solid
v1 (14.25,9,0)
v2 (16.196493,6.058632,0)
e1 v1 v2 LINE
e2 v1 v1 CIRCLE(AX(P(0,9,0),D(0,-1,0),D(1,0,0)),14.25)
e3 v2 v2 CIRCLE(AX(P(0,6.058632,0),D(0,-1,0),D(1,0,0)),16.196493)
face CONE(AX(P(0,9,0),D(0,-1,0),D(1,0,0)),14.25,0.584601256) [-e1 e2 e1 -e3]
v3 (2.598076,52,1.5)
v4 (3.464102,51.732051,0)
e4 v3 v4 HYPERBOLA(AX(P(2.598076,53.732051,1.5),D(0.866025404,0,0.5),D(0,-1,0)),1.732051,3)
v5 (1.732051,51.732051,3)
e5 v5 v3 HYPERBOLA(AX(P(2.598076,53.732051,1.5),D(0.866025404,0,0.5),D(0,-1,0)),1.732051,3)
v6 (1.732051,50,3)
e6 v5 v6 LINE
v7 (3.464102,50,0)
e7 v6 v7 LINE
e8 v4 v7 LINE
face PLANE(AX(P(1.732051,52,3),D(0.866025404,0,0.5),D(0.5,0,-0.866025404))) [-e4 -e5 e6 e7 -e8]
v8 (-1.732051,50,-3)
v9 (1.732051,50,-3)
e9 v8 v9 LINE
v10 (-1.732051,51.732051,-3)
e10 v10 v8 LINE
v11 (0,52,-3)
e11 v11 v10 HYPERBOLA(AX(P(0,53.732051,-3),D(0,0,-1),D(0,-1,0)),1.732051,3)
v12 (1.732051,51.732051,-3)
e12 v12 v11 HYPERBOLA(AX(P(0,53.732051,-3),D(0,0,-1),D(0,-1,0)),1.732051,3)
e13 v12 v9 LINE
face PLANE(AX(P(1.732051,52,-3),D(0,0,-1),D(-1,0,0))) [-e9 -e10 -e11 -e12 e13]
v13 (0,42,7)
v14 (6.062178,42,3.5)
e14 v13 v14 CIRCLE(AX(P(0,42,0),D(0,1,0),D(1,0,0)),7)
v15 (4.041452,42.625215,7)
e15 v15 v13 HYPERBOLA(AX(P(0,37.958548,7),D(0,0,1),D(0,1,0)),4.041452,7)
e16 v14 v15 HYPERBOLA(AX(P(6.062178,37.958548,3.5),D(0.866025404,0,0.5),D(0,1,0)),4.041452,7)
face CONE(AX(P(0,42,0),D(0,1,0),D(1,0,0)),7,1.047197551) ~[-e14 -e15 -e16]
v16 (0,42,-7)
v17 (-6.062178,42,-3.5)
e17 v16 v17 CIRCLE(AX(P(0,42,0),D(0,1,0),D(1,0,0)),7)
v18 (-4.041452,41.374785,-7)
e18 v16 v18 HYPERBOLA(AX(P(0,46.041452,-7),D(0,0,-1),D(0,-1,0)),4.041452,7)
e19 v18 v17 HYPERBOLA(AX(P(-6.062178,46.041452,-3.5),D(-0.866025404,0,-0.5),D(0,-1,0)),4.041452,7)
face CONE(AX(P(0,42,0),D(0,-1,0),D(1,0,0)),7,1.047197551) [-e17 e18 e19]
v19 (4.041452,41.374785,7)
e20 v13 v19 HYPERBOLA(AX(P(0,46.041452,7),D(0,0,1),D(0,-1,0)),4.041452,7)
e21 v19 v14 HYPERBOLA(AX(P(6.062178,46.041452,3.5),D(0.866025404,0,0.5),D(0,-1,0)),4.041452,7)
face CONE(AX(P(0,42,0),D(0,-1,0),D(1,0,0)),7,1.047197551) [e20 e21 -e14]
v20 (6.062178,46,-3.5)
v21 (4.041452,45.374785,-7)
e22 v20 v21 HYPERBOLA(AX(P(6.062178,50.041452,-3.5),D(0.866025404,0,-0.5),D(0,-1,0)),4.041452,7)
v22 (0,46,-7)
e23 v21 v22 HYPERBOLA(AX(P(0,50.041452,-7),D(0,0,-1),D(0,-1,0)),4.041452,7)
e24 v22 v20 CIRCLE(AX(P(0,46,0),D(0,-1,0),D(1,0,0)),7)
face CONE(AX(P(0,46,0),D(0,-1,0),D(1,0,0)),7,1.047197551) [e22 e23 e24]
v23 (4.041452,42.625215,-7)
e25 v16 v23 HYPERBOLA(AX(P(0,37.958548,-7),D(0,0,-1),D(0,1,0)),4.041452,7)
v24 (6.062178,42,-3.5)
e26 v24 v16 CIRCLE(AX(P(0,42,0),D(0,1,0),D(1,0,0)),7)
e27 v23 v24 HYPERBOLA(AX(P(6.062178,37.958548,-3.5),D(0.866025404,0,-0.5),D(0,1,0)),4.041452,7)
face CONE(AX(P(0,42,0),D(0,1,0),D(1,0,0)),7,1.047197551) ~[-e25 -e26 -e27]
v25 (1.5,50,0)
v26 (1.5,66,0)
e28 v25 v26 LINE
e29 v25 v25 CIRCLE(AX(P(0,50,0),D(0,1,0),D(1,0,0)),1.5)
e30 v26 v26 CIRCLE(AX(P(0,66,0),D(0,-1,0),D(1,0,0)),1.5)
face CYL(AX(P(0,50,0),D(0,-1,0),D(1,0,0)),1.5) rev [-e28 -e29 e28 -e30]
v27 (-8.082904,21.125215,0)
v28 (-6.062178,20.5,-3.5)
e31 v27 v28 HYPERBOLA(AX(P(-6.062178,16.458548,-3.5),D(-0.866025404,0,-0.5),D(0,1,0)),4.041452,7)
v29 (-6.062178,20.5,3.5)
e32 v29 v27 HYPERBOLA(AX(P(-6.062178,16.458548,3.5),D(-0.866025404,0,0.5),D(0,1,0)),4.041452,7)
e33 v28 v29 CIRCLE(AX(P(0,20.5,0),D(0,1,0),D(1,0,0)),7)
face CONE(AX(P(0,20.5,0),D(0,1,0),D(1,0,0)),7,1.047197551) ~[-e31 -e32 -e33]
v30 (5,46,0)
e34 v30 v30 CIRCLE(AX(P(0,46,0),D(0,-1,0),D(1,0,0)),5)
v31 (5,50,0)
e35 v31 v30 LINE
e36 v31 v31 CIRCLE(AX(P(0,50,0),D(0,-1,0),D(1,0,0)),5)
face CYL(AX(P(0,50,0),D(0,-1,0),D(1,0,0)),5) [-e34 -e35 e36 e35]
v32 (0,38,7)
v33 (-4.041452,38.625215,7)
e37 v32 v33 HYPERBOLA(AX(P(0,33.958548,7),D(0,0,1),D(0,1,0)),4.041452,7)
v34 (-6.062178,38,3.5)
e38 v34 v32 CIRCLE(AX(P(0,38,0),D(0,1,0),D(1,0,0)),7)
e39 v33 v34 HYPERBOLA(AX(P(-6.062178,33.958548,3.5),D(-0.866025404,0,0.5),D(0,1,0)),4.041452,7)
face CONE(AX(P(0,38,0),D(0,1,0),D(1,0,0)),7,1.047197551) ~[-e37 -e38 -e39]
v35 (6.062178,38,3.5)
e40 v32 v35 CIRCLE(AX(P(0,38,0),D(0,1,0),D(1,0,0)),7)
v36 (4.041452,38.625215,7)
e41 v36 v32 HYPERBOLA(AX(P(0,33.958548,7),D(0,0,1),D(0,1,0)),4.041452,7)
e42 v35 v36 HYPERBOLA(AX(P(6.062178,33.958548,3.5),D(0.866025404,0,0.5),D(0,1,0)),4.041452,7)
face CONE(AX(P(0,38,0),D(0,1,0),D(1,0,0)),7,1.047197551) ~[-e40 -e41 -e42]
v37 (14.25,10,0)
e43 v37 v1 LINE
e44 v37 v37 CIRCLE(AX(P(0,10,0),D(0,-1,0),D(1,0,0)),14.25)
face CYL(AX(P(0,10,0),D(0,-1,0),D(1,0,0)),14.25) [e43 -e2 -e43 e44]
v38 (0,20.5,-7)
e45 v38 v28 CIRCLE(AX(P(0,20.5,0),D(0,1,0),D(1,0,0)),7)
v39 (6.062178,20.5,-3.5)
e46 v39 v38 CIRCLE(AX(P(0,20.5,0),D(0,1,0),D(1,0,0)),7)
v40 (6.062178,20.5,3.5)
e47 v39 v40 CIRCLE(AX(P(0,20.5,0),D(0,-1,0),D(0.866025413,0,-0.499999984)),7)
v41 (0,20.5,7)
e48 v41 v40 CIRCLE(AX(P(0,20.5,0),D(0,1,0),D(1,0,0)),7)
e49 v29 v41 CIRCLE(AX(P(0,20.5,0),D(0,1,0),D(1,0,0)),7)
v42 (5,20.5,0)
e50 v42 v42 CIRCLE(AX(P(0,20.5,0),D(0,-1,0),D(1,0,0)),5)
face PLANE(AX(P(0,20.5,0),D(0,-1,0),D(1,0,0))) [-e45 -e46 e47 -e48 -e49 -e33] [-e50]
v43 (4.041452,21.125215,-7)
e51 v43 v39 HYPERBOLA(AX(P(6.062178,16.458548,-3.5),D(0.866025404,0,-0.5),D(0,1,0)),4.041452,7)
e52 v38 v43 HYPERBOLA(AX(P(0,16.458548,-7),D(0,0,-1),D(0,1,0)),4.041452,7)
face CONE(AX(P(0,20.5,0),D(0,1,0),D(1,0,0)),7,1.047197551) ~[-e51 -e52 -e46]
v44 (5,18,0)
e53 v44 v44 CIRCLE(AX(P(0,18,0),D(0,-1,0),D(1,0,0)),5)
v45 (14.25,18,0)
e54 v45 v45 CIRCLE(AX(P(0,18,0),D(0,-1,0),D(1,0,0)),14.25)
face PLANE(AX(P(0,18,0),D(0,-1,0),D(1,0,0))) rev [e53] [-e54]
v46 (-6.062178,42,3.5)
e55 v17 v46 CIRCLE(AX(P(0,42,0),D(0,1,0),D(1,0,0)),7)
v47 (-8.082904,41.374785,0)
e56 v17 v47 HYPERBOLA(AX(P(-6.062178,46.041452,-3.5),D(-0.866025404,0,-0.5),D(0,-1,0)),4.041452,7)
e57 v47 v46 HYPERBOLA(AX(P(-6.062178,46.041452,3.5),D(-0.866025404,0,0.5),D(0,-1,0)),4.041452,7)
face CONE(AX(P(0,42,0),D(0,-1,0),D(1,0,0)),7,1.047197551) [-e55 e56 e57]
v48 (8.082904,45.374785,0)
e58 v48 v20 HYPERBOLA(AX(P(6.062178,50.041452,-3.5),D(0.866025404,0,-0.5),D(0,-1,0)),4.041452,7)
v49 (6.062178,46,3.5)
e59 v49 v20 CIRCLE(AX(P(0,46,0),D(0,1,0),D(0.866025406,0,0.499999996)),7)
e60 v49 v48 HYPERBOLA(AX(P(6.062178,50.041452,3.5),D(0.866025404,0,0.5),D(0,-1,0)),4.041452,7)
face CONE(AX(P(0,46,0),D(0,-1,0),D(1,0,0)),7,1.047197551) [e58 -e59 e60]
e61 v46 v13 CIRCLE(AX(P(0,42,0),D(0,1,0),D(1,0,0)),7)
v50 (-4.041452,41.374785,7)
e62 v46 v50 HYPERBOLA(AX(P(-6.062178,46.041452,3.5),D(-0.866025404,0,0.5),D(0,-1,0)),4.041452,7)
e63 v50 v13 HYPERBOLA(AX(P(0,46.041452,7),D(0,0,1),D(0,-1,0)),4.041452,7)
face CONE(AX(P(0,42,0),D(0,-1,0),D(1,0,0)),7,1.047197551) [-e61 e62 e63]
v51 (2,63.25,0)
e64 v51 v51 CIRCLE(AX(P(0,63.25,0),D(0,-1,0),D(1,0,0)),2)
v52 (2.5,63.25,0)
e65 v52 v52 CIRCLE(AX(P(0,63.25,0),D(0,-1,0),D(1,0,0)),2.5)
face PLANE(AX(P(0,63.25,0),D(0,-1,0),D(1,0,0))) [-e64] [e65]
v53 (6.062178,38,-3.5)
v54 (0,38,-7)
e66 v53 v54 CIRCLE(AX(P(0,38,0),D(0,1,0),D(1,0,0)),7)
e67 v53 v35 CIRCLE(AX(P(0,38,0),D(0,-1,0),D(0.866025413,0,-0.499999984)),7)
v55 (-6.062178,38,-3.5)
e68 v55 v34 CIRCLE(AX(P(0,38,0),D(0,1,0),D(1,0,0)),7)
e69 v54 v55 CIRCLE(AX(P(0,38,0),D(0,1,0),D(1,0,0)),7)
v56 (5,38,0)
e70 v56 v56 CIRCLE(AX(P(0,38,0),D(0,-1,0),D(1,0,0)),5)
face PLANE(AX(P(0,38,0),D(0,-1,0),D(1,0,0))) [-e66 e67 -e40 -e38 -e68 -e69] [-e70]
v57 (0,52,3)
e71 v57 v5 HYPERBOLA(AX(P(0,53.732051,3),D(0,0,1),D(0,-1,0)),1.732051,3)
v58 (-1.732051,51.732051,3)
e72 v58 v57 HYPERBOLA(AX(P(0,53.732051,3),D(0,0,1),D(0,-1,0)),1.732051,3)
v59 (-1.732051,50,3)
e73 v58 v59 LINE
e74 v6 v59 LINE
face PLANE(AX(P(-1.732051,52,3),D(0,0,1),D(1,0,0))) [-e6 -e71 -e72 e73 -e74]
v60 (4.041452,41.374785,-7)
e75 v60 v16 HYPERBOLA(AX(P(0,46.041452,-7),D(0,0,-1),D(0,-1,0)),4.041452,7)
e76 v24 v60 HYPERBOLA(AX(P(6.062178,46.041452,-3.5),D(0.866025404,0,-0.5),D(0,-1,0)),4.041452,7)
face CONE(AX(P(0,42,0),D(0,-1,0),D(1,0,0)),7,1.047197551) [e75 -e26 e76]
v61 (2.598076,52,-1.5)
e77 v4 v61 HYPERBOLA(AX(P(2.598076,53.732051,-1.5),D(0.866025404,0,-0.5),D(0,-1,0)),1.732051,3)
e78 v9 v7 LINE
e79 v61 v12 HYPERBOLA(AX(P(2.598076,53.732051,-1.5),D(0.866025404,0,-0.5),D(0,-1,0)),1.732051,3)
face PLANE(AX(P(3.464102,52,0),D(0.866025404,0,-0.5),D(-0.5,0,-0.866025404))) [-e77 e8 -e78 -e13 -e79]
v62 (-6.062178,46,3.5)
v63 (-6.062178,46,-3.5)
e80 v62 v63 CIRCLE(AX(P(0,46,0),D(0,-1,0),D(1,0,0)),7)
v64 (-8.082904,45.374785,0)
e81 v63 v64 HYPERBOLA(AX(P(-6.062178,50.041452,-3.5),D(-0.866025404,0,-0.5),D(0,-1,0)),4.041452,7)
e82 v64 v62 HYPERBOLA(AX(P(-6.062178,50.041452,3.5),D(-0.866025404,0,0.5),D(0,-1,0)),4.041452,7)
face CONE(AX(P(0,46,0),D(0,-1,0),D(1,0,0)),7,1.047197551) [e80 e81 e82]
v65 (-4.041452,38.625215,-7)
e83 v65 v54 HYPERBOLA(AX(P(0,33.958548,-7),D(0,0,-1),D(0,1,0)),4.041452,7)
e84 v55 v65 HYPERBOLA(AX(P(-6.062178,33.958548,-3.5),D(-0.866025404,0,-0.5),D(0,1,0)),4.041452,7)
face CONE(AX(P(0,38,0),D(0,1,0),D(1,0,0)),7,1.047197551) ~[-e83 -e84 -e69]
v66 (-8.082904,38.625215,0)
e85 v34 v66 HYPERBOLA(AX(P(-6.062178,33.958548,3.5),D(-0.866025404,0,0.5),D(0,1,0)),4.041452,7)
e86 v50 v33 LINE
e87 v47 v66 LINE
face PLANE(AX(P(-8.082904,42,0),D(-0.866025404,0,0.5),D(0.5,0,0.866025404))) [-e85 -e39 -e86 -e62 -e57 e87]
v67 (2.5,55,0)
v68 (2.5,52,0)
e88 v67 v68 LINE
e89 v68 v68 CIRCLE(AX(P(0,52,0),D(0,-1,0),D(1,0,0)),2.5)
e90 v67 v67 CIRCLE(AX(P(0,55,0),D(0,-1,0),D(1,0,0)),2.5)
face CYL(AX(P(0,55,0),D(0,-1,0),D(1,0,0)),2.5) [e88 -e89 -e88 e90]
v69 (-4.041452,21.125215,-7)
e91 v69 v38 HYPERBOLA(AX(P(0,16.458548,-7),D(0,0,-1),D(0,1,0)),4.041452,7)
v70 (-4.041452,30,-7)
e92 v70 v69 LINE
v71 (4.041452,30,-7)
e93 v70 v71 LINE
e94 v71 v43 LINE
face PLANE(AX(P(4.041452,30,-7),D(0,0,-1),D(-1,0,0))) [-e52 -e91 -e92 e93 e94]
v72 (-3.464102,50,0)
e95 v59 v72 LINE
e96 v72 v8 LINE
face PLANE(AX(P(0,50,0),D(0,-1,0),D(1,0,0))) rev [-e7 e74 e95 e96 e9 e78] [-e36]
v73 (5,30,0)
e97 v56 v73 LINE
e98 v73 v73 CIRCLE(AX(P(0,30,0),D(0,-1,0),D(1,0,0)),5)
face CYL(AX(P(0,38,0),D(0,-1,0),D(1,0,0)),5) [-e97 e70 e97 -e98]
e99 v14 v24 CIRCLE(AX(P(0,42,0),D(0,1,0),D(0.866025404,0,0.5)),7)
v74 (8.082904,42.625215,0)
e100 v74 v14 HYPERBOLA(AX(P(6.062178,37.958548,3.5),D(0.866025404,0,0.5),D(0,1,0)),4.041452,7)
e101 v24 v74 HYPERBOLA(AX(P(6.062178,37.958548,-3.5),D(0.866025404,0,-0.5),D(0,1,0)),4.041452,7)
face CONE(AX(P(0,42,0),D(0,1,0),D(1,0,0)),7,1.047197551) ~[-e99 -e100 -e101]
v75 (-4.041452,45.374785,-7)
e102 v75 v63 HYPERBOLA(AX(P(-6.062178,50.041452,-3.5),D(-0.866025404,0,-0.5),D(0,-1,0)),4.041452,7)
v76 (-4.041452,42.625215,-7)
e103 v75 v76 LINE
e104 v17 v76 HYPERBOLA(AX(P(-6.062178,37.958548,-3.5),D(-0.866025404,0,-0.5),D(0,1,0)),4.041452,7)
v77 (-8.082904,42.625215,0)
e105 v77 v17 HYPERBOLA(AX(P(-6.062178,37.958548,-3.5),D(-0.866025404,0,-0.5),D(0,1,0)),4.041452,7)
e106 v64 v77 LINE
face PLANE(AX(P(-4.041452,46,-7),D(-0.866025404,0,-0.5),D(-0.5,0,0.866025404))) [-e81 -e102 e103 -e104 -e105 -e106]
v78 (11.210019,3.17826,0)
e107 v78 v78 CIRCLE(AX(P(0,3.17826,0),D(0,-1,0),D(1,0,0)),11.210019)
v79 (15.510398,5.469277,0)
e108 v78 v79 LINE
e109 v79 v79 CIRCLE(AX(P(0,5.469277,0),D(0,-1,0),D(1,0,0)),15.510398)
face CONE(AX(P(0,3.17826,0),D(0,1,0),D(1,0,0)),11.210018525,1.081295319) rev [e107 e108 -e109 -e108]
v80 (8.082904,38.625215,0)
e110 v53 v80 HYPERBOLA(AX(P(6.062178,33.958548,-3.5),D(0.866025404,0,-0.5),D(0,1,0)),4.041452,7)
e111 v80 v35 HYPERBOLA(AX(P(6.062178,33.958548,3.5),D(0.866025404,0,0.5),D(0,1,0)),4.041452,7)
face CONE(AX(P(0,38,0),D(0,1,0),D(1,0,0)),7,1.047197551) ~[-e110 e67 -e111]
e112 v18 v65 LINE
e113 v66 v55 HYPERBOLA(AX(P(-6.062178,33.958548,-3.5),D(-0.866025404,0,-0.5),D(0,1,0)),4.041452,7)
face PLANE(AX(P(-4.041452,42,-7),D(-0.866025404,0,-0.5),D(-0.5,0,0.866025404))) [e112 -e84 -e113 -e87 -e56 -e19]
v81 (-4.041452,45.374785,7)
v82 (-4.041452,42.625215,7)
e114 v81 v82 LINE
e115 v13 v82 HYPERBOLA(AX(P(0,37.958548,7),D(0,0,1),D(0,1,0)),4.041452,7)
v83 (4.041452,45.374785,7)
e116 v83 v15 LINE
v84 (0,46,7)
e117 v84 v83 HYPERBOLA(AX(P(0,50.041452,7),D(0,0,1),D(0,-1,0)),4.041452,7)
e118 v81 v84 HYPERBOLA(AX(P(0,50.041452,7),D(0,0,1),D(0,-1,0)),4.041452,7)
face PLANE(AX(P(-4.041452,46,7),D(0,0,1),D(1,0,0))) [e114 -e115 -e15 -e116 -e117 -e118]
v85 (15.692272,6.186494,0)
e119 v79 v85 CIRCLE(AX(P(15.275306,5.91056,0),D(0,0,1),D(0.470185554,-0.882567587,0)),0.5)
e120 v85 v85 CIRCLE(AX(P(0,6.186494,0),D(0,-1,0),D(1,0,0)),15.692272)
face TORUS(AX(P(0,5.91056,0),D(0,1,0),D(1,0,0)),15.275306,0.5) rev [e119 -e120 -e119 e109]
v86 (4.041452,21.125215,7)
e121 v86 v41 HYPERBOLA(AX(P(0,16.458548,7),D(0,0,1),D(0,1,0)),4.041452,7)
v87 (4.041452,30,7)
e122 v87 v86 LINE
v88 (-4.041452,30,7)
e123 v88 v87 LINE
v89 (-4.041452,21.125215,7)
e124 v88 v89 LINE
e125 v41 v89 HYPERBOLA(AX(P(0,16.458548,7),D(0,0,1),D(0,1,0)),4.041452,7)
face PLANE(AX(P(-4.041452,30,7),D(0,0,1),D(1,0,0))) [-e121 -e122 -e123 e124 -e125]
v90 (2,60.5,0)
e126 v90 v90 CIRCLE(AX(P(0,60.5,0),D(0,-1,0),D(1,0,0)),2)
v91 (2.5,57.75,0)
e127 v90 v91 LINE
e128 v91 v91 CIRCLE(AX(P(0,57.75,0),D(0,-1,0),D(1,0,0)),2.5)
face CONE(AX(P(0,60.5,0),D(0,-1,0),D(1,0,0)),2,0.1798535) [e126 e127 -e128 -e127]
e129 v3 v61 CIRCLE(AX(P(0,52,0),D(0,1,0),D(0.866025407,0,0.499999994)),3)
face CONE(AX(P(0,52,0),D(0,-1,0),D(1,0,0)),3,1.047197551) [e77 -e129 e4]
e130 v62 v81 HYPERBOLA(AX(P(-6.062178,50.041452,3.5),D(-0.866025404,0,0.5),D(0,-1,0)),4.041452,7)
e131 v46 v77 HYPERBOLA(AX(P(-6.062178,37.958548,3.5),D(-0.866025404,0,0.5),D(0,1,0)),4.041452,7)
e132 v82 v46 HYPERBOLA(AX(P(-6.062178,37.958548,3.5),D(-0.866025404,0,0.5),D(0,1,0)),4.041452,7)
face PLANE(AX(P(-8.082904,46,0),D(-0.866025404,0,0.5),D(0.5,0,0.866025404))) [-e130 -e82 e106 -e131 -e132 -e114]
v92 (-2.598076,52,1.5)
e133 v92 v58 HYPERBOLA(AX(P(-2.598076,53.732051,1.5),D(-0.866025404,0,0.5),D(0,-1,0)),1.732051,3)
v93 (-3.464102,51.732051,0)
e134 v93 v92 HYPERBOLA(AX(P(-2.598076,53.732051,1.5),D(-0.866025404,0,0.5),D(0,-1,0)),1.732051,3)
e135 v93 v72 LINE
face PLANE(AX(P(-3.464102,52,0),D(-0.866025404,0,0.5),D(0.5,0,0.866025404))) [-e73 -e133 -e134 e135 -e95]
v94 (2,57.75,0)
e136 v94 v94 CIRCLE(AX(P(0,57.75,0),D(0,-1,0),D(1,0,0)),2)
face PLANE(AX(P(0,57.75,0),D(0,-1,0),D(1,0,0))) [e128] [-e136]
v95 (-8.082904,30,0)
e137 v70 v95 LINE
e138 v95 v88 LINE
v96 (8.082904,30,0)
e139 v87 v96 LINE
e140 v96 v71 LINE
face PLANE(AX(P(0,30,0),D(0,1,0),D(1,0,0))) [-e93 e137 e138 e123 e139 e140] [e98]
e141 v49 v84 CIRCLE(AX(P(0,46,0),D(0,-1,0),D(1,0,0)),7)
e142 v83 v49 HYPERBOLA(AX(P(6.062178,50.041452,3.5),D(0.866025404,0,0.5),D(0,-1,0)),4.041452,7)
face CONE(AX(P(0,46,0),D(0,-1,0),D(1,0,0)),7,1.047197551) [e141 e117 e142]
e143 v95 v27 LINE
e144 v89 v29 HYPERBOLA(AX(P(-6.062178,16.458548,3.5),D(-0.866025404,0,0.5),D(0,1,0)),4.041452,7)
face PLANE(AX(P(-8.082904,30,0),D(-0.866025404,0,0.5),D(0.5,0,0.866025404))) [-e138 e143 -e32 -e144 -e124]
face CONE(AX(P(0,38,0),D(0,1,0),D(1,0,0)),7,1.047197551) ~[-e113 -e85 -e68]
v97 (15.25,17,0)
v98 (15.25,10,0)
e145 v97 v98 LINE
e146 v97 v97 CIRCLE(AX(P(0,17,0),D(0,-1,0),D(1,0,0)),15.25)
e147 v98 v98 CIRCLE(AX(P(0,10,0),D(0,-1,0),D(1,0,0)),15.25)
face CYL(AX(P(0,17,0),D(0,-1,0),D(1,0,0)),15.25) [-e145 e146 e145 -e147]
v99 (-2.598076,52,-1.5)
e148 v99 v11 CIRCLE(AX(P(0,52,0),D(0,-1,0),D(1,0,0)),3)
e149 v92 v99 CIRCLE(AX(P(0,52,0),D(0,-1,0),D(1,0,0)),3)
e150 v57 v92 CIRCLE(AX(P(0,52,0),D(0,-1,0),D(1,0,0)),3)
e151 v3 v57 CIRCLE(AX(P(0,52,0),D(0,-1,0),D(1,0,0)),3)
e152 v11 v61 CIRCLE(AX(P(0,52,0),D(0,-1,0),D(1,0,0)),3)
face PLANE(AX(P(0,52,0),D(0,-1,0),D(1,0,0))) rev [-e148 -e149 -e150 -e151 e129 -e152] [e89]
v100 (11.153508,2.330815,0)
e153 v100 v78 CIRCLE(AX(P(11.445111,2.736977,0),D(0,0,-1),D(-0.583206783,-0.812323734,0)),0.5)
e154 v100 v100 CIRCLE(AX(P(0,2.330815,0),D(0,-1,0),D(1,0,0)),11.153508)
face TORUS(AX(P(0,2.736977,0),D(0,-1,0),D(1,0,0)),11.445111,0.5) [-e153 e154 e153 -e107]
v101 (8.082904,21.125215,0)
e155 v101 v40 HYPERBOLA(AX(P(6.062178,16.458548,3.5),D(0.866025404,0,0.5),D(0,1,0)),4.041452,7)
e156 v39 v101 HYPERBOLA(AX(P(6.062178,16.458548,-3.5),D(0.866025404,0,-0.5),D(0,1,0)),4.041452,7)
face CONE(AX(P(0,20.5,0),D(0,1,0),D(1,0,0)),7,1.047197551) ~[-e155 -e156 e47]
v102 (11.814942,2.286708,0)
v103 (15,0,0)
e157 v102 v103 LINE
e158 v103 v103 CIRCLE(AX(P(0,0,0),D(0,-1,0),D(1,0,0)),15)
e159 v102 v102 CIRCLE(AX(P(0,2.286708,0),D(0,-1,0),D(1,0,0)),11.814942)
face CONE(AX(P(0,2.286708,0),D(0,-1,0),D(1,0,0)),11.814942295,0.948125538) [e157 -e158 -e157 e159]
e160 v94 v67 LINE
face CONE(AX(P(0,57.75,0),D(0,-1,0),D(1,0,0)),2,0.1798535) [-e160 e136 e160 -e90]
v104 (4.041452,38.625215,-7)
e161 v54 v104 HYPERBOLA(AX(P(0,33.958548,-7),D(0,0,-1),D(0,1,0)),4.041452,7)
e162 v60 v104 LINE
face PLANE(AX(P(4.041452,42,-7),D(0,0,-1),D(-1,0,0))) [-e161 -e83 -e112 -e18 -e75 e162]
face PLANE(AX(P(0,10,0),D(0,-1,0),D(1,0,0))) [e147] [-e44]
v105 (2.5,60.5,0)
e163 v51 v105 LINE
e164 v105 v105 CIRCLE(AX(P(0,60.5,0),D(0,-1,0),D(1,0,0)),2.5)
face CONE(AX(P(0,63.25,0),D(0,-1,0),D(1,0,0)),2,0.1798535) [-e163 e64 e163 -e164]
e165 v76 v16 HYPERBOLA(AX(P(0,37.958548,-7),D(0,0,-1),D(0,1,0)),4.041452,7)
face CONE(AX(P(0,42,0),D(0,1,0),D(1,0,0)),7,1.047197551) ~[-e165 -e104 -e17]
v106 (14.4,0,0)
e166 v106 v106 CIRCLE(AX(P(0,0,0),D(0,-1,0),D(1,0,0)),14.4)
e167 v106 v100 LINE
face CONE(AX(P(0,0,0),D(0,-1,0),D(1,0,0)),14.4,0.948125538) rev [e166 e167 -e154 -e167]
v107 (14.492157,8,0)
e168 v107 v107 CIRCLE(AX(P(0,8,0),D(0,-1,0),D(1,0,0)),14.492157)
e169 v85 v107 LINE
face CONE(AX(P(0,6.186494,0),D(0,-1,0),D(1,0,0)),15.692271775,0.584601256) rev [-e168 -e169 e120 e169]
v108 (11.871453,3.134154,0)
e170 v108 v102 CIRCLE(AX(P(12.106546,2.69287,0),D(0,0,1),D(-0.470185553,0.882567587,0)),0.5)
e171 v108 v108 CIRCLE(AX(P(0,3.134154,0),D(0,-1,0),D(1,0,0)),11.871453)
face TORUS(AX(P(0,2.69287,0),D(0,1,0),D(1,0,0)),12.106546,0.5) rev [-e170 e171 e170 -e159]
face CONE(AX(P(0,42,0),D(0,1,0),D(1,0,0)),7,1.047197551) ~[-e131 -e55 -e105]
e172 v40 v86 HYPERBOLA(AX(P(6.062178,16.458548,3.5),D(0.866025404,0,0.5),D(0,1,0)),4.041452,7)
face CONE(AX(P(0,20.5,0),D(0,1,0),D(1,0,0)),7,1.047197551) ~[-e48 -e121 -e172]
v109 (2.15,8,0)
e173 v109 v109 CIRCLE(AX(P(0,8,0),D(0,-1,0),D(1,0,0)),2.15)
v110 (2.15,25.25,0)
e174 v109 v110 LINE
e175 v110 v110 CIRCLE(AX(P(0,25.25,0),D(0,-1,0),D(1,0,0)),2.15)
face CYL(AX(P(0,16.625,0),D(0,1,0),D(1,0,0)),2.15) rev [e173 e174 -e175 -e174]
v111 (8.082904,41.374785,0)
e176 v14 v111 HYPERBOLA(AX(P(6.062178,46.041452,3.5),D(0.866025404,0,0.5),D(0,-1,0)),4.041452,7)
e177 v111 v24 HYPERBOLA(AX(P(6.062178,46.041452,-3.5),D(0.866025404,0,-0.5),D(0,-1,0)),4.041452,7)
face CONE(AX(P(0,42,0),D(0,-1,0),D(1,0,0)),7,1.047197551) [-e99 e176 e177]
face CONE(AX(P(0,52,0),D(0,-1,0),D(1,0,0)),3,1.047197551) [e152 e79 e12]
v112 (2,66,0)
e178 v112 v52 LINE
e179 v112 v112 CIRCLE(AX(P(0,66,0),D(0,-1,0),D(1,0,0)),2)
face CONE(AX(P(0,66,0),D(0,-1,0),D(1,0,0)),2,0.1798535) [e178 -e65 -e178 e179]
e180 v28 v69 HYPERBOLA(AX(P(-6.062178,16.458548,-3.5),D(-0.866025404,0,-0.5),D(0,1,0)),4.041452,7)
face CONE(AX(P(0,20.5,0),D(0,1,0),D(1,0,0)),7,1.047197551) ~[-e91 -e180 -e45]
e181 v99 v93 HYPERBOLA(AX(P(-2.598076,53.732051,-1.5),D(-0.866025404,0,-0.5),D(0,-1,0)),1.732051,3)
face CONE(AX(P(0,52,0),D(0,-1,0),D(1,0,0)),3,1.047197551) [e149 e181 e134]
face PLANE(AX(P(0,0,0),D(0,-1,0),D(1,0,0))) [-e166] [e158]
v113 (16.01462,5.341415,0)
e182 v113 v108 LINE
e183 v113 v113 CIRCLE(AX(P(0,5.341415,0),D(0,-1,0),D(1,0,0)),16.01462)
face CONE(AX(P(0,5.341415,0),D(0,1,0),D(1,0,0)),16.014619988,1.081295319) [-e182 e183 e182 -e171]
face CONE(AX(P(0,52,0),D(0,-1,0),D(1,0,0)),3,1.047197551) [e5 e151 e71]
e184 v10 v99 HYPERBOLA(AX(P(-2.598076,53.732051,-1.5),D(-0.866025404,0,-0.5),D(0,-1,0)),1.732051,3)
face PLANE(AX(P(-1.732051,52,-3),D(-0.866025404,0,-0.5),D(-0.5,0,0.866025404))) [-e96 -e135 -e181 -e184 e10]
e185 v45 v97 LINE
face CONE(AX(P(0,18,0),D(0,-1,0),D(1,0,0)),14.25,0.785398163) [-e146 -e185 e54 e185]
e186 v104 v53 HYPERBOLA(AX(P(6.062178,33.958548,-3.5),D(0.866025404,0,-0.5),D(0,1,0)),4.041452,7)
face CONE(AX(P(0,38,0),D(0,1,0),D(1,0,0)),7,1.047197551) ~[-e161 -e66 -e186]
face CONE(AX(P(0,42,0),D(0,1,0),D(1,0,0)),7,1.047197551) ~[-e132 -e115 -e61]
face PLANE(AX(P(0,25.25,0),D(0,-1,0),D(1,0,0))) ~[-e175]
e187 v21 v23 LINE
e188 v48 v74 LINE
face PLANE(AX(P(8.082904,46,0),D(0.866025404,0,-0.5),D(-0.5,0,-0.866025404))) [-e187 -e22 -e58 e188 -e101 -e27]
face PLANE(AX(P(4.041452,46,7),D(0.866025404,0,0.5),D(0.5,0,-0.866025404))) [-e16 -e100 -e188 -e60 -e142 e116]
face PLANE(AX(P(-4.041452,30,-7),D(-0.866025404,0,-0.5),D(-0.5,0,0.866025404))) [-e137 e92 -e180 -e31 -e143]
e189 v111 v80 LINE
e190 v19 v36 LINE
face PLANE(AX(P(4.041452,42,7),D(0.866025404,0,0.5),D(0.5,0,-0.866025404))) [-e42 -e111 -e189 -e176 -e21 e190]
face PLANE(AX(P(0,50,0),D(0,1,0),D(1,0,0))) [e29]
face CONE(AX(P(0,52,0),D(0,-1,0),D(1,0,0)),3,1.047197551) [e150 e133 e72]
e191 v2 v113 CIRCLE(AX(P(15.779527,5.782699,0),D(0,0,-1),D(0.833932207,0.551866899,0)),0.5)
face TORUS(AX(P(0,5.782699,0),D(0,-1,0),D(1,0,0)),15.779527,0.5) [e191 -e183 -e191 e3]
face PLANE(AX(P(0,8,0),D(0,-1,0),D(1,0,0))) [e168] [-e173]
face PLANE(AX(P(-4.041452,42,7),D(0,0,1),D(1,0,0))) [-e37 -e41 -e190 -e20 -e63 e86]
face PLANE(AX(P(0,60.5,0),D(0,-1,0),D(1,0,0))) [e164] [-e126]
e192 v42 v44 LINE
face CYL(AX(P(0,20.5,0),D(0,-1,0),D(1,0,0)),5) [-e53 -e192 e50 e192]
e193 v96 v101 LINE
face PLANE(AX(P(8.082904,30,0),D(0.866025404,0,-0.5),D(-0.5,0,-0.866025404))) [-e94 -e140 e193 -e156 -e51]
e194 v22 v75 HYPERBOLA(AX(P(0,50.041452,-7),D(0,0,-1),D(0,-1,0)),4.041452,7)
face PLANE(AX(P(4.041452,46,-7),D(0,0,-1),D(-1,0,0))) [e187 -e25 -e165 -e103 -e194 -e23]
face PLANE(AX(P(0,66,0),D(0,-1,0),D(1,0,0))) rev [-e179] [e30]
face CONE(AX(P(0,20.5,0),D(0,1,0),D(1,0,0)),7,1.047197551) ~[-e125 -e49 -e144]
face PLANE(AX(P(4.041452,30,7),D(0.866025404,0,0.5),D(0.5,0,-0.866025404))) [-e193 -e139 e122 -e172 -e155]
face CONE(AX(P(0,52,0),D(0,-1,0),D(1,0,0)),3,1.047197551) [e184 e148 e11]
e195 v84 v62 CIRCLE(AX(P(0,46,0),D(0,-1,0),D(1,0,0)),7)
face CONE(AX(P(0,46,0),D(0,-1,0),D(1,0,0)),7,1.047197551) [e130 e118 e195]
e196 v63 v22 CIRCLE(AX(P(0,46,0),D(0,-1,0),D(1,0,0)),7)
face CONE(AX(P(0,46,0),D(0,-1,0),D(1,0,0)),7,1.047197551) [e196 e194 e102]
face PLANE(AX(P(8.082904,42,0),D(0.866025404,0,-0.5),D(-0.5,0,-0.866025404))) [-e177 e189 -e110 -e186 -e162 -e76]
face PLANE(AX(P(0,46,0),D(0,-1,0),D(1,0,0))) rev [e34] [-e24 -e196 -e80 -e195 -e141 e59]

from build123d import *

# Parameters (mm, degrees)
EXTRUDE_1_DEPTH      = 2
SKETCH_4_3_OUTSIDE_W = 57.584
SKETCH_4_3_OUTSIDE_H = 57.584
SKETCH_4_3_OUTSIDE_R = 3
CUT_EXTRUDE_1_DEPTH  = 2
CUT_EXTRUDE_1_TAPER  = 60
EXTRUDE_2_DEPTH      = 4
EXTRUDE_START        = -4
EXTRUDE_3_DEPTH      = 4
SKETCH_5_4_OUTSIDE_W = 64.512
SKETCH_5_4_OUTSIDE_H = 64.512
SKETCH_5_4_OUTSIDE_R = 7
CUT_EXTRUDE_2_DEPTH  = 4
CUT_EXTRUDE_2_TAPER  = 60
CUT_EXTRUDE_START    = -4
SKETCH_5_5_OUTSIDE_W = 78.368
SKETCH_5_5_OUTSIDE_H = 78.368
SKETCH_5_5_OUTSIDE_R = 7
CUT_EXTRUDE_3_DEPTH  = 8
CUT_EXTRUDE_3_TAPER  = 60
SKETCH_5_6_OUTSIDE_W = 64.512
SKETCH_5_6_OUTSIDE_H = 64.512
SKETCH_5_6_OUTSIDE_R = 7
CUT_EXTRUDE_4_DEPTH  = 4
CUT_EXTRUDE_4_TAPER  = 60
CUT_EXTRUDE_START_2  = -8
SKETCH_5_7_OUTSIDE_W = 92.224
SKETCH_5_7_OUTSIDE_H = 92.224
SKETCH_5_7_OUTSIDE_R = 7
CUT_EXTRUDE_5_DEPTH  = 12
CUT_EXTRUDE_5_TAPER  = 60
EXTRUDE_4_DEPTH      = 9.5
CUT_EXTRUDE_START_3  = -9.5
SKETCH_6_5_OUTSIDE_W = 85.296
SKETCH_6_5_OUTSIDE_H = 85.296
SKETCH_6_5_OUTSIDE_R = 7
CUT_EXTRUDE_9_DEPTH  = 10
CUT_EXTRUDE_9_TAPER  = 60
CUT_EXTRUDE_START_4  = -16
SKETCH_8_R           = 1.5
CUT_EXTRUDE_8_DEPTH  = 17
SKETCH_9_W           = 2.15
SKETCH_9_H           = 17.25


with BuildPart() as part:
    # 草图2 → 旋转1 (revolve)
    with BuildSketch(Plane.XY):
        with BuildLine():
            Line((0, 66), (2, 66))
            Line((2, 66), (2.5, 63.25))
            Line((2.5, 63.25), (2, 63.25))
            Line((2, 63.25), (2.5, 60.5))
            Line((2.5, 60.5), (2, 60.5))
            Line((2, 60.5), (2.5, 57.75))
            Line((2.5, 57.75), (2, 57.75))
            Line((2, 57.75), (2.5, 55))
            Line((2.5, 55), (2.5, 52))
            Line((2.5, 52), (3, 52))
            Line((3, 52), (3, 50))
            Line((3, 50), (5, 50))
            Line((5, 50), (5, 46))
            Line((5, 46), (7, 46))
            Line((7, 46), (7, 42))
            Line((7, 42), (7, 38))
            Line((7, 38), (5, 38))
            Line((5, 38), (5, 30))
            Line((5, 30), (7, 30))
            Line((7, 30), (7, 20.5))
            Line((7, 20.5), (5, 20.5))
            Line((5, 20.5), (5, 18))
            Line((5, 18), (14.25, 18))
            Line((14.25, 18), (15.25, 17))
            Line((15.25, 17), (15.25, 10))
            Line((15.25, 10), (14.25, 10))
            Line((14.25, 10), (14.25, 9))
            Line((14.25, 9), (16.196493315, 6.058632324))
            ThreePointArc((16.196493315, 6.058632324), (16.264187236, 5.659797854), (16.014619988, 5.34141508))
            Line((16.014619988, 5.34141508), (11.87145291, 3.134153756))
            ThreePointArc((11.87145291, 3.134153756), (11.607653664, 2.726137813), (11.814942295, 2.286708096))
            Line((11.814942295, 2.286708096), (15, 0))
            Line((15, 0), (14.4, 0))
            Line((14.4, 0), (11.153507909, 2.330814834))
            ThreePointArc((11.153507909, 2.330814834), (10.946219278, 2.770244551), (11.210018525, 3.178260495))
            Line((11.210018525, 3.178260495), (15.510398448, 5.469276547))
            ThreePointArc((15.510398448, 5.469276547), (15.759965696, 5.787659321), (15.692271775, 6.186493791))
            Line((15.692271775, 6.186493791), (14.492157372, 8))
            Line((14.492157372, 8), (0, 8))
            Line((0, 8), (0, 66))
        make_face()
    revolve(axis=Axis((0, 17.903421189, 0), (0, -1, 0)))


with BuildPart() as body_2:
    # 草图4 → 凸台-拉伸1 (new body)
    with BuildSketch(Plane(origin=(0, 52, 0), x_dir=(1, 0, 0), z_dir=(0, 1, 0))):
        Polygon((1.732050808, -3), (3.464101615, 0), (1.732050808, 3), (-1.732050808, 3), (-3.464101615, 0), (-1.732050808, -3), align=None)
    extrude(amount=-EXTRUDE_1_DEPTH)

    # 草图4<3> outside → 切除-拉伸1 (cut)
    with BuildSketch(Plane(origin=(0, 52, 0), x_dir=(1, 0, 0), z_dir=(0, 1, 0))):
        Rectangle(SKETCH_4_3_OUTSIDE_W, SKETCH_4_3_OUTSIDE_H)
        Circle(SKETCH_4_3_OUTSIDE_R, mode=Mode.SUBTRACT)
    extrude(amount=-CUT_EXTRUDE_1_DEPTH, taper=CUT_EXTRUDE_1_TAPER, mode=Mode.SUBTRACT)


with BuildPart() as body_3:
    # 草图5 → 凸台-拉伸2 (new body)
    with BuildSketch(Plane(origin=(0, 46, 0), x_dir=(1, 0, 0), z_dir=(0, 1, 0))):
        Polygon((-4.041451884, 7), (-8.082903769, 0), (-4.041451884, -7), (4.041451884, -7), (8.082903769, 0), (4.041451884, 7), align=None)
    extrude(amount=-EXTRUDE_2_DEPTH)

    # 草图5<4> outside → 切除-拉伸2 (cut)
    with BuildSketch(Plane(origin=(0, 46, 0), x_dir=(1, 0, 0), z_dir=(0, 1, 0))):
        Rectangle(SKETCH_5_4_OUTSIDE_W, SKETCH_5_4_OUTSIDE_H)
        Circle(SKETCH_5_4_OUTSIDE_R, mode=Mode.SUBTRACT)
    extrude(amount=-CUT_EXTRUDE_2_DEPTH, taper=CUT_EXTRUDE_2_TAPER, mode=Mode.SUBTRACT)

    # 草图5<5> outside → 切除-拉伸3 (cut)
    with BuildSketch(Plane(origin=(0, 46, 0), x_dir=(1, 0, 0), z_dir=(0, 1, 0)).offset(CUT_EXTRUDE_START)):
        Rectangle(SKETCH_5_5_OUTSIDE_W, SKETCH_5_5_OUTSIDE_H)
        Circle(SKETCH_5_5_OUTSIDE_R, mode=Mode.SUBTRACT)
    extrude(amount=CUT_EXTRUDE_3_DEPTH, taper=CUT_EXTRUDE_3_TAPER, mode=Mode.SUBTRACT)


with BuildPart() as body_4:
    # 草图5<3> → 凸台-拉伸3 (new body)
    with BuildSketch(Plane(origin=(0, 46, 0), x_dir=(1, 0, 0), z_dir=(0, 1, 0)).offset(EXTRUDE_START)):
        Polygon((-4.041451884, 7), (-8.082903769, 0), (-4.041451884, -7), (4.041451884, -7), (8.082903769, 0), (4.041451884, 7), align=None)
    extrude(amount=-EXTRUDE_3_DEPTH)

    # 草图5<6> outside → 切除-拉伸4 (cut)
    with BuildSketch(Plane(origin=(0, 46, 0), x_dir=(1, 0, 0), z_dir=(0, 1, 0)).offset(CUT_EXTRUDE_START)):
        Rectangle(SKETCH_5_6_OUTSIDE_W, SKETCH_5_6_OUTSIDE_H)
        Circle(SKETCH_5_6_OUTSIDE_R, mode=Mode.SUBTRACT)
    extrude(amount=-CUT_EXTRUDE_4_DEPTH, taper=CUT_EXTRUDE_4_TAPER, mode=Mode.SUBTRACT)

    # 草图5<7> outside → 切除-拉伸5 (cut)
    with BuildSketch(Plane(origin=(0, 46, 0), x_dir=(1, 0, 0), z_dir=(0, 1, 0)).offset(CUT_EXTRUDE_START_2)):
        Rectangle(SKETCH_5_7_OUTSIDE_W, SKETCH_5_7_OUTSIDE_H)
        Circle(SKETCH_5_7_OUTSIDE_R, mode=Mode.SUBTRACT)
    extrude(amount=CUT_EXTRUDE_5_DEPTH, taper=CUT_EXTRUDE_5_TAPER, mode=Mode.SUBTRACT)


with BuildPart() as body_5:
    # 草图6 → 凸台-拉伸4 (new body)
    with BuildSketch(Plane(origin=(0, 30, 0), x_dir=(1, 0, 0), z_dir=(0, 1, 0))):
        Polygon((4.041451884, 7), (-4.041451884, 7), (-8.082903769, 0), (-4.041451884, -7), (4.041451884, -7), (8.082903769, 0), align=None)
    extrude(amount=-EXTRUDE_4_DEPTH)

    # 草图6<5> outside → 切除-拉伸9 (cut)
    with BuildSketch(Plane(origin=(0, 30, 0), x_dir=(1, 0, 0), z_dir=(0, 1, 0)).offset(CUT_EXTRUDE_START_3)):
        Rectangle(SKETCH_6_5_OUTSIDE_W, SKETCH_6_5_OUTSIDE_H)
        Circle(SKETCH_6_5_OUTSIDE_R, mode=Mode.SUBTRACT)
    extrude(amount=CUT_EXTRUDE_9_DEPTH, taper=CUT_EXTRUDE_9_TAPER, mode=Mode.SUBTRACT)


with BuildPart() as part_1:
    add(part.part)

    # Combine 1: union body 3, body 4, body 2, body 5
    add(body_3.part)
    add(body_4.part)
    add(body_2.part)
    add(body_5.part)

    # 草图8 → 切除-拉伸8 (cut, through all)
    with BuildSketch(Plane(origin=(0, 66, 0), x_dir=(1, 0, 0), z_dir=(0, 1, 0)).offset(CUT_EXTRUDE_START_4)):
        Circle(SKETCH_8_R)
    extrude(amount=CUT_EXTRUDE_8_DEPTH, mode=Mode.SUBTRACT)

    # 草图9 → 切除-旋转1 (revolve, cut)
    with BuildSketch(Plane.XY):
        with Locations((1.075, 16.625)):
            Rectangle(SKETCH_9_W, SKETCH_9_H)
    revolve(axis=Axis((0, 84.706300763, 0), (0, -1, 0)), mode=Mode.SUBTRACT)


solid = part_1.part
